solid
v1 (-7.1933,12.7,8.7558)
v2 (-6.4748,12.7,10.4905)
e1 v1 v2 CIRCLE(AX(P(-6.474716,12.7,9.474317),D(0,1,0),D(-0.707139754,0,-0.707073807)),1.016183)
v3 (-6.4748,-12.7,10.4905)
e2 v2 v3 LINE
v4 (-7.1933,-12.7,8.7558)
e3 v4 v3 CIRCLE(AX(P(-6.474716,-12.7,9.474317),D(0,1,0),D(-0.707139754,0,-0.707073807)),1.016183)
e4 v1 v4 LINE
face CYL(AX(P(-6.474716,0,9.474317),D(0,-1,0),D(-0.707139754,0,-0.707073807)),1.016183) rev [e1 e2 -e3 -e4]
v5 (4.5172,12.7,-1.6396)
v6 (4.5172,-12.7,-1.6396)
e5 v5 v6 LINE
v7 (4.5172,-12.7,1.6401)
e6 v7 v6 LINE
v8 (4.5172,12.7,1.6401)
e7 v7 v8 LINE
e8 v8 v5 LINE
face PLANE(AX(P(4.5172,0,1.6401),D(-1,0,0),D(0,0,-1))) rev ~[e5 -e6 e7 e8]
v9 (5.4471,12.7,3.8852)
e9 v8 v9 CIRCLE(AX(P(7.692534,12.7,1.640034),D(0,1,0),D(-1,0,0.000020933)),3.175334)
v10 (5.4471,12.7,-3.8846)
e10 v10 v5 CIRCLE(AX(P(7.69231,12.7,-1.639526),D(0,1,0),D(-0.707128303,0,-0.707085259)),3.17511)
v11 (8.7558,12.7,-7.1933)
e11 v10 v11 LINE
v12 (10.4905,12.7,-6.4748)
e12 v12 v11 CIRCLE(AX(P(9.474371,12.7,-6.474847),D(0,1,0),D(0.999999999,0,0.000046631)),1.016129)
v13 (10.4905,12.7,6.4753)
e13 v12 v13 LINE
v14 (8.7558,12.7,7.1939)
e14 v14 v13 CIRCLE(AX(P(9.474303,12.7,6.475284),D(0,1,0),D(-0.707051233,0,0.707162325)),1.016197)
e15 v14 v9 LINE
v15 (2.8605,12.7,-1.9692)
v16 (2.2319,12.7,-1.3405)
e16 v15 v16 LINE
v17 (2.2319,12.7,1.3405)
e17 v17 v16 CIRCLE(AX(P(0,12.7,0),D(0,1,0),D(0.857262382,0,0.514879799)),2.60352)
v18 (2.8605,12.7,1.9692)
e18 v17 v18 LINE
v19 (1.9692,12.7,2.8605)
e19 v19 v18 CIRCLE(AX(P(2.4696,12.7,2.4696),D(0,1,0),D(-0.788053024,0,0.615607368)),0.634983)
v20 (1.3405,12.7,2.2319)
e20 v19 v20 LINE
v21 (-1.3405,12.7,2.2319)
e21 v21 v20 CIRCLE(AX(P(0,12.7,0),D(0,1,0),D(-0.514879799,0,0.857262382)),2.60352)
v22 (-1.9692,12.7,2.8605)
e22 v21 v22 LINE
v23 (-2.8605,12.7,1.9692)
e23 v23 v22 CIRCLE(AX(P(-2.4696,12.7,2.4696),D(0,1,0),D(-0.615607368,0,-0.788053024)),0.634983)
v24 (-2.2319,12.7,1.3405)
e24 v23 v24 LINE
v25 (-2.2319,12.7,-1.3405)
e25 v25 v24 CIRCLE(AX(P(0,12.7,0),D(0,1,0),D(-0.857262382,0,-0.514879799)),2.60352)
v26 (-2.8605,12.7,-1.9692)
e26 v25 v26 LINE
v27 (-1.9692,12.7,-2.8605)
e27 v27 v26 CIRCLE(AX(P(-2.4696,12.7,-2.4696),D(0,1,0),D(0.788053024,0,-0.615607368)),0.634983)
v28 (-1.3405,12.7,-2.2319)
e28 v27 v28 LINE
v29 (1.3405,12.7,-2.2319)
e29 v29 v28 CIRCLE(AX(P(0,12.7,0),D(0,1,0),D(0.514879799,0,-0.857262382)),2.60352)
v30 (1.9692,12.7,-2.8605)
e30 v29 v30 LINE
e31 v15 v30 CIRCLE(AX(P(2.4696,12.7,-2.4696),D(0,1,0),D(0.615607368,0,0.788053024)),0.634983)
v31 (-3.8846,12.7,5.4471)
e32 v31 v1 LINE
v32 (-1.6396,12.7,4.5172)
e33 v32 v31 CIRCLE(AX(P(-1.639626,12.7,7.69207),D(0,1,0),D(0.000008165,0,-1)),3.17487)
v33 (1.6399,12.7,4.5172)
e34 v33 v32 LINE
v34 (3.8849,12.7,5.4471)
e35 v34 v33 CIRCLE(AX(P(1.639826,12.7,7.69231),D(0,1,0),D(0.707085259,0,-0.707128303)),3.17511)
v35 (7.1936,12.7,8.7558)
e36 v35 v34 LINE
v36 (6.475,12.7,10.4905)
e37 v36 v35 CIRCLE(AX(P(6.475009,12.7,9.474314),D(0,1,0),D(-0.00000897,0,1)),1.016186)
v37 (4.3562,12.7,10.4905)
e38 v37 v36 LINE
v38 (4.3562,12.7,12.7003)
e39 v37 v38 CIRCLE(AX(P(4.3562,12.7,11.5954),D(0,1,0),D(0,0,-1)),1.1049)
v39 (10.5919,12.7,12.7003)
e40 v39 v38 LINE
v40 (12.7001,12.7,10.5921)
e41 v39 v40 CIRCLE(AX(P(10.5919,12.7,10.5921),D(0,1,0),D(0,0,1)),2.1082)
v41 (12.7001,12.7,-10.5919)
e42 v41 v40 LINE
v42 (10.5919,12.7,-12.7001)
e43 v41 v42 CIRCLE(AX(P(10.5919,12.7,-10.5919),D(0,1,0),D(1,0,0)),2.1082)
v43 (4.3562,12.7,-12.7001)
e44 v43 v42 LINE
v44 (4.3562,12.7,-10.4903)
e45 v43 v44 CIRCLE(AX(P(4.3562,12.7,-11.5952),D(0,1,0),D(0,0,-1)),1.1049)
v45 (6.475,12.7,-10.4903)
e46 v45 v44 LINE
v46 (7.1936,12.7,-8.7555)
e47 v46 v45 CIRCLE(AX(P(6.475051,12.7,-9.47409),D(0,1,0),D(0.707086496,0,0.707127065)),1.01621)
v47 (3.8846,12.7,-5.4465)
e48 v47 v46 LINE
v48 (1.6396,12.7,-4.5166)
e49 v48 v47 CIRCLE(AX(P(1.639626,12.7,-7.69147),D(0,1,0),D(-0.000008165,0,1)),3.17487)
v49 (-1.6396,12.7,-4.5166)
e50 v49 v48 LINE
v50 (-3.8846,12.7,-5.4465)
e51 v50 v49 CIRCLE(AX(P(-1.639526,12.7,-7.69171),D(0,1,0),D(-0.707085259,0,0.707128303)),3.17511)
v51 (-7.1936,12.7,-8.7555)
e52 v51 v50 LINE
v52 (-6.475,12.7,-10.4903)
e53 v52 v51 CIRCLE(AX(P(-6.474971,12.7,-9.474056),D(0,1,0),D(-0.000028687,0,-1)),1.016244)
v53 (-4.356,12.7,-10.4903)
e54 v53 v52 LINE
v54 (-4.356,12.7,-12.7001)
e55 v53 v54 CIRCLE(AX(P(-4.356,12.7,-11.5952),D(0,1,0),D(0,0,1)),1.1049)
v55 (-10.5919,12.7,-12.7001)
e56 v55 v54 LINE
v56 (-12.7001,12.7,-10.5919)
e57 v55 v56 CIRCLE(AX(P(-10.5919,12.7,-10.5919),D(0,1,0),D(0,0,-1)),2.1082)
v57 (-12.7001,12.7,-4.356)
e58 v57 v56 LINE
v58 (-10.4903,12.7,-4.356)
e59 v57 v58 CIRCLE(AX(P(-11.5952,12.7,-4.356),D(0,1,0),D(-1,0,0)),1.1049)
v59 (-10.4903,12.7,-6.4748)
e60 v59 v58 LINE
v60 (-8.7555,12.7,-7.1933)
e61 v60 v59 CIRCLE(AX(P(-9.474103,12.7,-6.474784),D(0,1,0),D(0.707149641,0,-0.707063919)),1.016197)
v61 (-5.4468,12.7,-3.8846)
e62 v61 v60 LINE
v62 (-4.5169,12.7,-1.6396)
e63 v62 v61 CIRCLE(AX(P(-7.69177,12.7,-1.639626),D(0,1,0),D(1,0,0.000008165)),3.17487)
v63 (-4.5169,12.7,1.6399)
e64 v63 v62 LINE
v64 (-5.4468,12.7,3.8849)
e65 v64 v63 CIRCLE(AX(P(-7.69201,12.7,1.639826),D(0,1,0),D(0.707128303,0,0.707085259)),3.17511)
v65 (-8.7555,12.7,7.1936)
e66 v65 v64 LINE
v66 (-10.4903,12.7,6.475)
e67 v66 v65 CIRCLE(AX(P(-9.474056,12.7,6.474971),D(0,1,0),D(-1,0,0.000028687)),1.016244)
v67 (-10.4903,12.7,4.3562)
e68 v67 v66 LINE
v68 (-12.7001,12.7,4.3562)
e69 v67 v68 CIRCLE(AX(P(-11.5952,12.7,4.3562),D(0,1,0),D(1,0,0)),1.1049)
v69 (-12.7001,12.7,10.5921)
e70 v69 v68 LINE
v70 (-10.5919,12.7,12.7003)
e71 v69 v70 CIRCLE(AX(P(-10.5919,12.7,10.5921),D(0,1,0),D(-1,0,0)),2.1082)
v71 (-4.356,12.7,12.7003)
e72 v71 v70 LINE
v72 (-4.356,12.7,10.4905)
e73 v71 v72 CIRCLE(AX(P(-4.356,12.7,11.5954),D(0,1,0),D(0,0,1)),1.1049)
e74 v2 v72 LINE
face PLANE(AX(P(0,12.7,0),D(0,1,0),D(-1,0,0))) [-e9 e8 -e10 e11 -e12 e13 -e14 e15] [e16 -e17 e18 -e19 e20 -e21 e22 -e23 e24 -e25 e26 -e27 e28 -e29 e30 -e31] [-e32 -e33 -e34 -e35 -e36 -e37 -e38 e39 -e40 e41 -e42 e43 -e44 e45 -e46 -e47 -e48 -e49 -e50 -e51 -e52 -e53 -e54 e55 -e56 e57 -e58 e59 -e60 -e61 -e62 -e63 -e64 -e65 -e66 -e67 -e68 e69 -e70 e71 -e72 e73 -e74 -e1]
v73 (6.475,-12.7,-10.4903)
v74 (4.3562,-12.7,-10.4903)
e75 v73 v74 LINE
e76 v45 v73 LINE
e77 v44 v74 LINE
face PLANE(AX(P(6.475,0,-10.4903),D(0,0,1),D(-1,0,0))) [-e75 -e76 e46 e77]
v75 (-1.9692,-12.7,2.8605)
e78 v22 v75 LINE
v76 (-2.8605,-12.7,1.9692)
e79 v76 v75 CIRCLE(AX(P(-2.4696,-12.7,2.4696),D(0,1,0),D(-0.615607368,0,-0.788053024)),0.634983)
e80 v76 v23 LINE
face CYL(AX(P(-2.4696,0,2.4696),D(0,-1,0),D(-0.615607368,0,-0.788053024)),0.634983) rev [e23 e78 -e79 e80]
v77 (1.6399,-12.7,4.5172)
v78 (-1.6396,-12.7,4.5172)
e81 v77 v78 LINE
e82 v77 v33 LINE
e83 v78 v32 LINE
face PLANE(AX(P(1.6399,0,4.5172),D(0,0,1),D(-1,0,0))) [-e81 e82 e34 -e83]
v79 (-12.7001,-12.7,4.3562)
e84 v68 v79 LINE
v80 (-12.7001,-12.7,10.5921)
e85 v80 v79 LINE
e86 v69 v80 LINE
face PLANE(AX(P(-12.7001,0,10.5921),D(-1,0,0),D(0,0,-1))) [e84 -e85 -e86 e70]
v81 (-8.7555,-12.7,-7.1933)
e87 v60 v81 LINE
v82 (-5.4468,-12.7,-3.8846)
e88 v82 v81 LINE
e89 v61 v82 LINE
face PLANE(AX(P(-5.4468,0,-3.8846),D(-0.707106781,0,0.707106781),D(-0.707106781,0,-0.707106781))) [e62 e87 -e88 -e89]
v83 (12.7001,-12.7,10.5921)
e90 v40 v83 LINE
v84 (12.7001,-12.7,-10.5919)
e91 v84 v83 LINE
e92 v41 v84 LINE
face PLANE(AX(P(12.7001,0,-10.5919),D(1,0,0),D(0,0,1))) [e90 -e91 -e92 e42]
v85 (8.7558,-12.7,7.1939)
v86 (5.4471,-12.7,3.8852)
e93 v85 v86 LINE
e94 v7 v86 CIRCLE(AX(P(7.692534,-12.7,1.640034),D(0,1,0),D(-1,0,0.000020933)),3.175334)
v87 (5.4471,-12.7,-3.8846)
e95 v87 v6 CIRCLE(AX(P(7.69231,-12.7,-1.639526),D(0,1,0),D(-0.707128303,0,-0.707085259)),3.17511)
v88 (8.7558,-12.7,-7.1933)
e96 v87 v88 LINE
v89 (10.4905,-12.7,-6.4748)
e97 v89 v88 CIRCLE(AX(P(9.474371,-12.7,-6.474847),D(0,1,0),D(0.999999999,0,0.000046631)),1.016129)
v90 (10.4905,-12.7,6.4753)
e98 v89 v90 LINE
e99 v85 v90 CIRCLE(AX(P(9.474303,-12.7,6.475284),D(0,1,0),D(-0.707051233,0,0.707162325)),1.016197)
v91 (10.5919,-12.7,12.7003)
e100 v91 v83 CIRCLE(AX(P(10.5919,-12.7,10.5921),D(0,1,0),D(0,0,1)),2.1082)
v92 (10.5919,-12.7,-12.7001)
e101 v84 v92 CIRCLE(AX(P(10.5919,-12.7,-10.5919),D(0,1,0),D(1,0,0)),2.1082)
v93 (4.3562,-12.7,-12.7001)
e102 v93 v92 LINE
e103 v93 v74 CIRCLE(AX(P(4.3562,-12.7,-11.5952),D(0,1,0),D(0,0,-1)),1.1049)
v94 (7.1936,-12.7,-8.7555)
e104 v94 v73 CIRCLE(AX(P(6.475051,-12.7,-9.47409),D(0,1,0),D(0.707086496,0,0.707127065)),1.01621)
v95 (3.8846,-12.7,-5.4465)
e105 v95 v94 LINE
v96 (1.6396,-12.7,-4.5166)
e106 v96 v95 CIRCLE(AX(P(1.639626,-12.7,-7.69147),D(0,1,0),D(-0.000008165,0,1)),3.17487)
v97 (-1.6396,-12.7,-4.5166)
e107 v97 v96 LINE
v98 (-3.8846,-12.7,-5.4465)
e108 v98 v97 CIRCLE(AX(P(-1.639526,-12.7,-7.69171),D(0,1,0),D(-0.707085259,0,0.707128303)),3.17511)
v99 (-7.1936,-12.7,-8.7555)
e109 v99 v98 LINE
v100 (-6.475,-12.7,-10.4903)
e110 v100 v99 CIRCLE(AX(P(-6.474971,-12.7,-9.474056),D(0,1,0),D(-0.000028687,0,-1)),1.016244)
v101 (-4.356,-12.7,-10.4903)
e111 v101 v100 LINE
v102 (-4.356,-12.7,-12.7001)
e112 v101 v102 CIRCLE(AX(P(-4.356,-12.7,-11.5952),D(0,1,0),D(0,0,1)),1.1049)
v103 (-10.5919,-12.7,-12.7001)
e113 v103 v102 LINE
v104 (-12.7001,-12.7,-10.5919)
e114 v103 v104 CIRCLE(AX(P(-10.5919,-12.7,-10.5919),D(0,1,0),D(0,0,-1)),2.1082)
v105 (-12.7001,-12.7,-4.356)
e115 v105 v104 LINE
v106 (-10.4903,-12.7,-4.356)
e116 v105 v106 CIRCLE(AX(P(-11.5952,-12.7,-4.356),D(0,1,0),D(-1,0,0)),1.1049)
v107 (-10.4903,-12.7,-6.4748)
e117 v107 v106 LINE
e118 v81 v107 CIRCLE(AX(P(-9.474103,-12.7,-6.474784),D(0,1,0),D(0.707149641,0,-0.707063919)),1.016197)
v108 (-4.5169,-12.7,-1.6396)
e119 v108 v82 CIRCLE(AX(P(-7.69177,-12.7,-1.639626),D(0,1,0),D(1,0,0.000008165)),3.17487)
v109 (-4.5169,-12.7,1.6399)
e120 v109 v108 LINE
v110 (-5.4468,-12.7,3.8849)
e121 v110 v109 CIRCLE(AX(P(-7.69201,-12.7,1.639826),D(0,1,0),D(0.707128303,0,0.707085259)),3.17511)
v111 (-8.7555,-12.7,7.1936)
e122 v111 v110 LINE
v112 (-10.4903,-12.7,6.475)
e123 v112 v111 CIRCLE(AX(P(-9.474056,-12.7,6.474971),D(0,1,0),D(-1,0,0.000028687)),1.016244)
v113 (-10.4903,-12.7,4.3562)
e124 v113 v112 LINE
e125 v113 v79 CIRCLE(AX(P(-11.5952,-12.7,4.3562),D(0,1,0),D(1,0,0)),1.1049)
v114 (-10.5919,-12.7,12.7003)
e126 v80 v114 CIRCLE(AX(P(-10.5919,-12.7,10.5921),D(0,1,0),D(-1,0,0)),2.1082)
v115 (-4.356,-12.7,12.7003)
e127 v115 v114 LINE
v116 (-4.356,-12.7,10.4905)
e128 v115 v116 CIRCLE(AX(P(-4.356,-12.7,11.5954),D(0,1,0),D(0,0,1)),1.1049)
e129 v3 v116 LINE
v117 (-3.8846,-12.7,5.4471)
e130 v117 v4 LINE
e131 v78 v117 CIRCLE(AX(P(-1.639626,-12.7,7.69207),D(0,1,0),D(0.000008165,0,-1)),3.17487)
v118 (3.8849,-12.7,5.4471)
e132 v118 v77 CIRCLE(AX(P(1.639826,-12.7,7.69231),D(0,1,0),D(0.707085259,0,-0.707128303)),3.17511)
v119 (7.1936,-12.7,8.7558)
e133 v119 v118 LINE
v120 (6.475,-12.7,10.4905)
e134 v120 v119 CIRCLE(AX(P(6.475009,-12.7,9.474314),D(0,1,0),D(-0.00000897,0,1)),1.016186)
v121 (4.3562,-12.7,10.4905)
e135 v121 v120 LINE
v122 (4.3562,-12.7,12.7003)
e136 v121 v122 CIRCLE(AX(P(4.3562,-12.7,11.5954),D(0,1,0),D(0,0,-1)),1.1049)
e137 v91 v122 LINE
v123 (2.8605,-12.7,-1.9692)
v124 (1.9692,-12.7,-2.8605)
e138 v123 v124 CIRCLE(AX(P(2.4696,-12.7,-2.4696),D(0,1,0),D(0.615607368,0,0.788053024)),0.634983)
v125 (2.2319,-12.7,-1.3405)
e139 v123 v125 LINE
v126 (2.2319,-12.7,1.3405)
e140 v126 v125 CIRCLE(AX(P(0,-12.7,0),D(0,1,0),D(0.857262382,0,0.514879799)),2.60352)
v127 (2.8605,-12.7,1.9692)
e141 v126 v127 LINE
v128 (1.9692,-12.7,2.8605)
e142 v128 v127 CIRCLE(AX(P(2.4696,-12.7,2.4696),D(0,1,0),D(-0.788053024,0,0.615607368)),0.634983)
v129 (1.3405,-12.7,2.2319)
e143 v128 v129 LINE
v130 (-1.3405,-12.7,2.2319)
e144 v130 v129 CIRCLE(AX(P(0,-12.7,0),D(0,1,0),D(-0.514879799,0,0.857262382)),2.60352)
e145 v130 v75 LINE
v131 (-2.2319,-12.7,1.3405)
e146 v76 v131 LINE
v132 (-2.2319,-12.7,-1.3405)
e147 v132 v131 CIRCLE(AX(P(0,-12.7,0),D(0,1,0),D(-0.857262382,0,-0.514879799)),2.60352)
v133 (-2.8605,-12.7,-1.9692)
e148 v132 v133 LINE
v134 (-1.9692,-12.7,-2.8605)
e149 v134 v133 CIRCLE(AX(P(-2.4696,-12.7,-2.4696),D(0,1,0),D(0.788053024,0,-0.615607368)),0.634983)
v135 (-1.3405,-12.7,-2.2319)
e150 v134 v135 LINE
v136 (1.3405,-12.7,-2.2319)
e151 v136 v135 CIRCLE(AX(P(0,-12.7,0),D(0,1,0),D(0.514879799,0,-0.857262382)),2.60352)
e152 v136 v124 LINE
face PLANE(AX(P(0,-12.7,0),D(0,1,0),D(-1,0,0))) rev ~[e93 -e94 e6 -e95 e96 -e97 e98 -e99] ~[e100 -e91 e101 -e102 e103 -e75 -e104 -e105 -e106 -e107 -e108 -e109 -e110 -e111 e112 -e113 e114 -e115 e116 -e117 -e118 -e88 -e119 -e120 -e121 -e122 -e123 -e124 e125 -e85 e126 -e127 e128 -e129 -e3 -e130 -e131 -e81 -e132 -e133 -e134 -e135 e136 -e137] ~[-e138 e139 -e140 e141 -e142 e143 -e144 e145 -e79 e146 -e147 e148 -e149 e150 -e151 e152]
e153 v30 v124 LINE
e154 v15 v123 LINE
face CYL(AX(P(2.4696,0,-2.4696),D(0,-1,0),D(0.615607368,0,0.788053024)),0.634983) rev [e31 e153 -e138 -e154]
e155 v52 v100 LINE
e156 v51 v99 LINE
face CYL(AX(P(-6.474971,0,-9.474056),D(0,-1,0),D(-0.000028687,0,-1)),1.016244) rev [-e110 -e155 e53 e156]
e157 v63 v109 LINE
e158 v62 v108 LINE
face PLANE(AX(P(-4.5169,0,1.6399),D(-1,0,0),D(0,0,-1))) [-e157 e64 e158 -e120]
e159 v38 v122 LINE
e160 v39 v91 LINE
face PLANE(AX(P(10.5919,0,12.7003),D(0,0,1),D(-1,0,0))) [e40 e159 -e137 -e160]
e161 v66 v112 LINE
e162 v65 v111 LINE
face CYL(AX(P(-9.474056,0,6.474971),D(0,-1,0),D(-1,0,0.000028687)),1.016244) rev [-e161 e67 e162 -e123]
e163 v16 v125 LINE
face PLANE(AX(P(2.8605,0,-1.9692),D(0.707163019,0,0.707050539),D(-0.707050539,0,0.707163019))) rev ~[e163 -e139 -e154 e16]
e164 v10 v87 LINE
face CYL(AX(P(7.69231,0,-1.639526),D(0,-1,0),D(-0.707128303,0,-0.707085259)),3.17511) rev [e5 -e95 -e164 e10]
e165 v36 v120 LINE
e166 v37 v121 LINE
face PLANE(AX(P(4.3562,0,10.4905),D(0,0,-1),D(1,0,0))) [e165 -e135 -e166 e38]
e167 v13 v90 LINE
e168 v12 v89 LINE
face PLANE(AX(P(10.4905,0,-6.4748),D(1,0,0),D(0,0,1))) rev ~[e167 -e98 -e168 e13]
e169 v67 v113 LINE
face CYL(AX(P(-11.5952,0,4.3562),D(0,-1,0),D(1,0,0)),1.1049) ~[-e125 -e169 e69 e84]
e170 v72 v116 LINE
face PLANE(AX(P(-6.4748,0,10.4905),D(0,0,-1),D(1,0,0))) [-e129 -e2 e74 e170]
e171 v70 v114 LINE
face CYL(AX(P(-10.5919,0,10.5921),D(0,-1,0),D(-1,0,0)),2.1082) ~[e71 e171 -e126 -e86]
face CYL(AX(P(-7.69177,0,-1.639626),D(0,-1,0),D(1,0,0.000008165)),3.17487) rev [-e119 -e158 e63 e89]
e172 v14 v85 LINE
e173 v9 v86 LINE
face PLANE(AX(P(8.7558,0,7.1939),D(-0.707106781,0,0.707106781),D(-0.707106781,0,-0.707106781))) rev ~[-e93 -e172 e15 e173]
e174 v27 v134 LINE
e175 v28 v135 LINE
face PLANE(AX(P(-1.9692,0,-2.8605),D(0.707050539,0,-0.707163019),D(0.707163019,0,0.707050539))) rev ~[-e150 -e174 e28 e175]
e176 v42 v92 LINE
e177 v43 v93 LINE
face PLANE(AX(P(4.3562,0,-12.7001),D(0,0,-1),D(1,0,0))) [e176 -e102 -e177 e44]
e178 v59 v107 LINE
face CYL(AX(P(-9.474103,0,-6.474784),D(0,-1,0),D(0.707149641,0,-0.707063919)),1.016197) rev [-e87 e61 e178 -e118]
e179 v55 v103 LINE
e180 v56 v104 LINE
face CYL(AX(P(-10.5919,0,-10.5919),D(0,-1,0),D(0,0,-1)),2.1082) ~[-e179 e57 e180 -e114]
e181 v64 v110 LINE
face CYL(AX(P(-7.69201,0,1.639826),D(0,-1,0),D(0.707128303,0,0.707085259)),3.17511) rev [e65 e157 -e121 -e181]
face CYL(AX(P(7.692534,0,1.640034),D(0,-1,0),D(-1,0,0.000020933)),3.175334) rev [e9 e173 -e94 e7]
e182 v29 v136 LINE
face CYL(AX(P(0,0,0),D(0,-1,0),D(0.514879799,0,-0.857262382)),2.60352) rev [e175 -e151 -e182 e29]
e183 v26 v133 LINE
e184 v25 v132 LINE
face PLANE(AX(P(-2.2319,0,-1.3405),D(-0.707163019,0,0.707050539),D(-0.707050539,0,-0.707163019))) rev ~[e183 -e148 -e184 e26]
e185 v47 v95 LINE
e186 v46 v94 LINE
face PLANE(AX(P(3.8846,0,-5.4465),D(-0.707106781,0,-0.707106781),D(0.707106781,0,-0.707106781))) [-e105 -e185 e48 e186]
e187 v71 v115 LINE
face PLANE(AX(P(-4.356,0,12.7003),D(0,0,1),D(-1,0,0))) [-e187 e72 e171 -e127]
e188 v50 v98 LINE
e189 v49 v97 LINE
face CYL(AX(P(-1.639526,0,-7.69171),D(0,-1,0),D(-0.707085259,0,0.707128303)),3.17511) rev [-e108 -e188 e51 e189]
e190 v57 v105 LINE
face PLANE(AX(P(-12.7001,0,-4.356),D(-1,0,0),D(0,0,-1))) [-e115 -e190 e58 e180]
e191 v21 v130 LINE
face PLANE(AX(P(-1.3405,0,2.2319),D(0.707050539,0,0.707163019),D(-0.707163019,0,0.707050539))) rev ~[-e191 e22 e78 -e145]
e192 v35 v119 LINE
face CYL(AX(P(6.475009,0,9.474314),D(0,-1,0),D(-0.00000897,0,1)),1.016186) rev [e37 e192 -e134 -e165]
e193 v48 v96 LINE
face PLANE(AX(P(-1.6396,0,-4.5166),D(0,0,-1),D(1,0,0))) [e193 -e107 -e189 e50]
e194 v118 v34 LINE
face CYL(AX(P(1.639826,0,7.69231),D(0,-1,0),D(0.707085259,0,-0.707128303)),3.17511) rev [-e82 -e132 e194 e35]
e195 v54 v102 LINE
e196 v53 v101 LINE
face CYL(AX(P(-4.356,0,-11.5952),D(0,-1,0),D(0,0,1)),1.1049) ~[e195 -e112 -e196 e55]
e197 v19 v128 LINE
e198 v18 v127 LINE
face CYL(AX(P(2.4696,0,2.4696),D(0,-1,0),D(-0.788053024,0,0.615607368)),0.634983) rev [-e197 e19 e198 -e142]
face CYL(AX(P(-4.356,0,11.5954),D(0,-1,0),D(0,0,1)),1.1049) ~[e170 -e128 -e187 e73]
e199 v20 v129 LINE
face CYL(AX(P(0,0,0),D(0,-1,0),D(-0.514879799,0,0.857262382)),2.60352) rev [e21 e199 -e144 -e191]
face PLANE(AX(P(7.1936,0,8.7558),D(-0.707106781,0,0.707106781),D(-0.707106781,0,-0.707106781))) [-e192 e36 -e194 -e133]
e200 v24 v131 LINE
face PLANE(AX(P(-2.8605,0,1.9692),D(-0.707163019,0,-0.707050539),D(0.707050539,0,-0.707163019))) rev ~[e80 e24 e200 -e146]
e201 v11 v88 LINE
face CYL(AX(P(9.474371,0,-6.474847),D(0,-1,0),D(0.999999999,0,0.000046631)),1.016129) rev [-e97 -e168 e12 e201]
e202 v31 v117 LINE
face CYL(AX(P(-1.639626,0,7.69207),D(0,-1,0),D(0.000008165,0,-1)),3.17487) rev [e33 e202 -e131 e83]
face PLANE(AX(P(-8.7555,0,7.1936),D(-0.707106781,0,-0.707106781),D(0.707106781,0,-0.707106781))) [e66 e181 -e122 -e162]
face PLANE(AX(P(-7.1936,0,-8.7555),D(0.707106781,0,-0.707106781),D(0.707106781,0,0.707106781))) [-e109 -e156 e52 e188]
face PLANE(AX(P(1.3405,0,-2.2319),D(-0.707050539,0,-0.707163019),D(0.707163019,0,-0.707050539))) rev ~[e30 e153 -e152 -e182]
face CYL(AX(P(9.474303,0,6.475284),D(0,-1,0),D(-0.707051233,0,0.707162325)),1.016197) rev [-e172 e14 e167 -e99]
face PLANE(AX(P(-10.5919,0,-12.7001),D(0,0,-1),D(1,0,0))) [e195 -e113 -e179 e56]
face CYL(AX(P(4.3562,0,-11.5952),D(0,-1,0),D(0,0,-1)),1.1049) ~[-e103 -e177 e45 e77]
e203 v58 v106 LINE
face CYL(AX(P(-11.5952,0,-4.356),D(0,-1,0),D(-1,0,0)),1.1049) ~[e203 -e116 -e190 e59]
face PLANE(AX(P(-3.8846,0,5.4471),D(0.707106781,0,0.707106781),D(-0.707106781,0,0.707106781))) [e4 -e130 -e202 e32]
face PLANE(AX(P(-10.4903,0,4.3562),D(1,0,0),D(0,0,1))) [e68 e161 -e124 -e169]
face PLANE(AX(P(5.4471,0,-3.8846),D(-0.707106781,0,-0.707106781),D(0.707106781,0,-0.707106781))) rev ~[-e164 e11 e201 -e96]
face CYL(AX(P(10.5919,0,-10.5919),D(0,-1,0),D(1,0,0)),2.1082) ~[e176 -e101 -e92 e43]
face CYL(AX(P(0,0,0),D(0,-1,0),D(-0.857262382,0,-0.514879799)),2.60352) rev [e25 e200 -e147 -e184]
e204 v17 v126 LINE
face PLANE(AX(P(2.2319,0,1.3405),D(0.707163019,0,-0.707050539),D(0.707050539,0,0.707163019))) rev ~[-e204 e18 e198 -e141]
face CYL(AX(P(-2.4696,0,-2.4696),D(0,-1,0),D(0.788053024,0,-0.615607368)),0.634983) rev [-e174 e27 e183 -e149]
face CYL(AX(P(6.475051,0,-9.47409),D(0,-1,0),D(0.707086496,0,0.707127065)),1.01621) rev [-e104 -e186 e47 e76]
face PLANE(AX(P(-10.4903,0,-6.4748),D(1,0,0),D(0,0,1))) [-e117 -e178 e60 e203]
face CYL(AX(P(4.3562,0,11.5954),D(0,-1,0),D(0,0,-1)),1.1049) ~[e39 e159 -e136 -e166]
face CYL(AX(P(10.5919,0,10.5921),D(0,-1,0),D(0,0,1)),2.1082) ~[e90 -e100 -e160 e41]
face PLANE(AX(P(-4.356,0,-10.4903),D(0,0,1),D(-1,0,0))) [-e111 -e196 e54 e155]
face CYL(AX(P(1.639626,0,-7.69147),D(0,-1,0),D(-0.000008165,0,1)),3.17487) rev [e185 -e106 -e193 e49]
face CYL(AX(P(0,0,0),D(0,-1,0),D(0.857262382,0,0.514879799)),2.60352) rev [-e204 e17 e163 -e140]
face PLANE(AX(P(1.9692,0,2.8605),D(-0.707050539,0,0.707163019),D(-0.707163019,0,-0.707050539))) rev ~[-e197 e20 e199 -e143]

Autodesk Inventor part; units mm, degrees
ref_plane "YZ Plane" through (0, 0, 0) normal (1, 0, 0) x (0, 1, 0)
ref_plane "XZ Plane" through (0, 0, 0) normal (0, 1, 0) x (-1, 0, 0)
ref_plane "XY Plane" through (0, 0, 0) normal (0, 0, 1) x (1, 0, 0)
sketch "Sketch1" plane through (0, 0, 0) normal (0, 1, 0) x (-1, 0, 0)
  arc A0 (2.8605, 1.9692) -> (1.9692, 2.8605) centre (2.4696, 2.4696) ccw
  line L0 (1.3405, 2.2319) -> (1.9692, 2.8605)
  arc A1 (1.3405, 2.2319) -> (-1.3405, 2.2319) centre (0, 0) ccw
  line L1 (-1.9692, 2.8605) -> (-1.3405, 2.2319)
  arc A2 (-1.9692, 2.8605) -> (-2.8605, 1.9692) centre (-2.4696, 2.4696) ccw
  line L2 (-2.2319, 1.3405) -> (-2.8605, 1.9692)
  arc A3 (-2.2319, 1.3405) -> (-2.2319, -1.3405) centre (0, 0) ccw
  line L3 (-2.8605, -1.9692) -> (-2.2319, -1.3405)
  arc A4 (-2.8605, -1.9692) -> (-1.9692, -2.8605) centre (-2.4696, -2.4696) ccw
  line L4 (-1.3405, -2.2319) -> (-1.9692, -2.8605)
  arc A5 (-1.3405, -2.2319) -> (1.3405, -2.2319) centre (0, 0) ccw
  line L5 (1.9692, -2.8605) -> (1.3405, -2.2319)
  arc A6 (1.9692, -2.8605) -> (2.8605, -1.9692) centre (2.4696, -2.4696) ccw
  line L6 (2.2319, -1.3405) -> (2.8605, -1.9692)
  arc A7 (2.2319, -1.3405) -> (2.2319, 1.3405) centre (0, 0) ccw
  line L7 (2.8605, 1.9692) -> (2.2319, 1.3405)
  arc A8 (-4.5172, 1.6401) -> (-5.4471, 3.8852) centre (-7.6922, 1.6401) ccw
  line L8 (-8.7558, 7.1939) -> (-5.4471, 3.8852)
  arc A9 (-8.7558, 7.1939) -> (-10.4905, 6.4753) centre (-9.4743, 6.4753) ccw
  line L9 (-10.4905, -6.4748) -> (-10.4905, 6.4753)
  arc A10 (-10.4905, -6.4748) -> (-8.7558, -7.1933) centre (-9.4743, -6.4748) ccw
  line L10 (-5.4471, -3.8846) -> (-8.7558, -7.1933)
  arc A11 (-5.4471, -3.8846) -> (-4.5172, -1.6396) centre (-7.6922, -1.6396) ccw
  line L11 (-4.5172, 1.6401) -> (-4.5172, -1.6396)
  arc A12 (1.6396, 4.5172) -> (3.8846, 5.4471) centre (1.6396, 7.6922) ccw
  line L12 (3.8846, 5.4471) -> (7.1933, 8.7558)
  arc A13 (7.1933, 8.7558) -> (6.4748, 10.4905) centre (6.4748, 9.4743) ccw
  line L13 (6.4748, 10.4905) -> (4.356, 10.4905)
  arc A14 (4.356, 12.7003) -> (4.356, 10.4905) centre (4.356, 11.5954) ccw
  line L14 (4.356, 12.7003) -> (10.5919, 12.7003)
  arc A15 (12.7001, 10.5921) -> (10.5919, 12.7003) centre (10.5919, 10.5921) ccw
  line L15 (12.7001, 10.5921) -> (12.7001, 4.3562)
  arc A16 (10.4903, 4.3562) -> (12.7001, 4.3562) centre (11.5952, 4.3562) ccw
  line L16 (10.4903, 4.3562) -> (10.4903, 6.475)
  arc A17 (10.4903, 6.475) -> (8.7555, 7.1936) centre (9.4741, 6.475) ccw
  line L17 (8.7555, 7.1936) -> (5.4468, 3.8849)
  arc A18 (5.4468, 3.8849) -> (4.5169, 1.6399) centre (7.6919, 1.6399) ccw
  line L18 (4.5169, 1.6399) -> (4.5169, -1.6396)
  arc A19 (4.5169, -1.6396) -> (5.4468, -3.8846) centre (7.6919, -1.6396) ccw
  line L19 (5.4468, -3.8846) -> (8.7555, -7.1933)
  arc A20 (8.7555, -7.1933) -> (10.4903, -6.4748) centre (9.4741, -6.4748) ccw
  line L20 (10.4903, -6.4748) -> (10.4903, -4.356)
  arc A21 (12.7001, -4.356) -> (10.4903, -4.356) centre (11.5952, -4.356) ccw
  line L21 (12.7001, -4.356) -> (12.7001, -10.5919)
  arc A22 (10.5919, -12.7001) -> (12.7001, -10.5919) centre (10.5919, -10.5919) ccw
  line L22 (10.5919, -12.7001) -> (4.356, -12.7001)
  arc A23 (4.356, -10.4903) -> (4.356, -12.7001) centre (4.356, -11.5952) ccw
  line L23 (4.356, -10.4903) -> (6.475, -10.4903)
  arc A24 (6.475, -10.4903) -> (7.1936, -8.7555) centre (6.475, -9.4741) ccw
  line L24 (7.1936, -8.7555) -> (3.8846, -5.4465)
  arc A25 (3.8846, -5.4465) -> (1.6396, -4.5166) centre (1.6396, -7.6916) ccw
  line L25 (1.6396, -4.5166) -> (-1.6396, -4.5166)
  arc A26 (-1.6396, -4.5166) -> (-3.8846, -5.4465) centre (-1.6396, -7.6916) ccw
  line L26 (-3.8846, -5.4465) -> (-7.1936, -8.7555)
  arc A27 (-7.1936, -8.7555) -> (-6.475, -10.4903) centre (-6.475, -9.4741) ccw
  line L27 (-6.475, -10.4903) -> (-4.3562, -10.4903)
  arc A28 (-4.3562, -12.7001) -> (-4.3562, -10.4903) centre (-4.3562, -11.5952) ccw
  line L28 (-4.3562, -12.7001) -> (-10.5919, -12.7001)
  arc A29 (-12.7001, -10.5919) -> (-10.5919, -12.7001) centre (-10.5919, -10.5919) ccw
  line L29 (-12.7001, -10.5919) -> (-12.7001, 10.5921)
  arc A30 (-10.5919, 12.7003) -> (-12.7001, 10.5921) centre (-10.5919, 10.5921) ccw
  line L30 (-10.5919, 12.7003) -> (-4.3562, 12.7003)
  arc A31 (-4.3562, 10.4905) -> (-4.3562, 12.7003) centre (-4.3562, 11.5954) ccw
  line L31 (-4.3562, 10.4905) -> (-6.475, 10.4905)
  arc A32 (-6.475, 10.4905) -> (-7.1936, 8.7558) centre (-6.475, 9.4743) ccw
  line L32 (-7.1936, 8.7558) -> (-3.8849, 5.4471)
  arc A33 (-3.8849, 5.4471) -> (-1.6399, 4.5172) centre (-1.6399, 7.6922) ccw
  line L33 (-1.6399, 4.5172) -> (1.6396, 4.5172)
  point P0 (0, 0)
  dimension "d36" = 8.1835
  dimension "d81" = 1.0162
  dimension "d82" = 3.175
  dimension "d95" = 8.1832
  dimension "d96" = 17.2172
  dimension "d97" = 23.1906
  dimension "d98" = 25.4002
  dimension "d100" = 8.1832
  dimension "d101" = 2.2092
  dimension "d104" = 2.2091
  dimension "d131" = 1.1049
  dimension "d132" = 2.1082
  dimension "d133" = 0.635
  dimension "d134" = 2.6035
  dimension "d135" = 2.6035
  dimension "d136" = 2.6035
  dimension "d137" = 2.6035
  dimension "d138" = 45
  dimension "d139" = 45
  dimension "d140" = 45
  dimension "d141" = 45
  dimension "d142" = 45
  dimension "d143" = 25.4004
  dimension "d144" = 0.4742
  dimension "d145" = 1.7347
  dimension "d146" = 0.4744
  dimension "d147" = 1.7349
  dimension "d148" = 12.7001
  dimension "d149" = 12.7003
  dimension "d150" = 1.1046
  dimension "d151" = 1.1048
  dimension "d152" = 0.6303
  dimension "d153" = 0.6303
  dimension "d154" = 0.6303
  dimension "d155" = 0.6303
  dimension "d156" = 8.3441
  dimension "d157" = 17.0563
  dimension "d158" = 8.3441
  dimension "d159" = 8.3441
  dimension "d160" = 9.8396
  dimension "d161" = 9.8396
  dimension "d162" = 10.2305
  dimension "d163" = 10.2305
  dimension "d164" = 10.4682
  dimension "d165" = 10.4682
  dimension "d166" = 14.6692
  dimension "d167" = 14.6692
  dimension "d168" = 15.1696
  dimension "d169" = 15.1696
  dimension "d170" = 17.0563
  dimension "d171" = 17.0563
extrude "Extrusion1" add sketch "Sketch1" along normal mid plane 25.4
properties part number "1003-S-BLACK-FB" material "6105-T5"
